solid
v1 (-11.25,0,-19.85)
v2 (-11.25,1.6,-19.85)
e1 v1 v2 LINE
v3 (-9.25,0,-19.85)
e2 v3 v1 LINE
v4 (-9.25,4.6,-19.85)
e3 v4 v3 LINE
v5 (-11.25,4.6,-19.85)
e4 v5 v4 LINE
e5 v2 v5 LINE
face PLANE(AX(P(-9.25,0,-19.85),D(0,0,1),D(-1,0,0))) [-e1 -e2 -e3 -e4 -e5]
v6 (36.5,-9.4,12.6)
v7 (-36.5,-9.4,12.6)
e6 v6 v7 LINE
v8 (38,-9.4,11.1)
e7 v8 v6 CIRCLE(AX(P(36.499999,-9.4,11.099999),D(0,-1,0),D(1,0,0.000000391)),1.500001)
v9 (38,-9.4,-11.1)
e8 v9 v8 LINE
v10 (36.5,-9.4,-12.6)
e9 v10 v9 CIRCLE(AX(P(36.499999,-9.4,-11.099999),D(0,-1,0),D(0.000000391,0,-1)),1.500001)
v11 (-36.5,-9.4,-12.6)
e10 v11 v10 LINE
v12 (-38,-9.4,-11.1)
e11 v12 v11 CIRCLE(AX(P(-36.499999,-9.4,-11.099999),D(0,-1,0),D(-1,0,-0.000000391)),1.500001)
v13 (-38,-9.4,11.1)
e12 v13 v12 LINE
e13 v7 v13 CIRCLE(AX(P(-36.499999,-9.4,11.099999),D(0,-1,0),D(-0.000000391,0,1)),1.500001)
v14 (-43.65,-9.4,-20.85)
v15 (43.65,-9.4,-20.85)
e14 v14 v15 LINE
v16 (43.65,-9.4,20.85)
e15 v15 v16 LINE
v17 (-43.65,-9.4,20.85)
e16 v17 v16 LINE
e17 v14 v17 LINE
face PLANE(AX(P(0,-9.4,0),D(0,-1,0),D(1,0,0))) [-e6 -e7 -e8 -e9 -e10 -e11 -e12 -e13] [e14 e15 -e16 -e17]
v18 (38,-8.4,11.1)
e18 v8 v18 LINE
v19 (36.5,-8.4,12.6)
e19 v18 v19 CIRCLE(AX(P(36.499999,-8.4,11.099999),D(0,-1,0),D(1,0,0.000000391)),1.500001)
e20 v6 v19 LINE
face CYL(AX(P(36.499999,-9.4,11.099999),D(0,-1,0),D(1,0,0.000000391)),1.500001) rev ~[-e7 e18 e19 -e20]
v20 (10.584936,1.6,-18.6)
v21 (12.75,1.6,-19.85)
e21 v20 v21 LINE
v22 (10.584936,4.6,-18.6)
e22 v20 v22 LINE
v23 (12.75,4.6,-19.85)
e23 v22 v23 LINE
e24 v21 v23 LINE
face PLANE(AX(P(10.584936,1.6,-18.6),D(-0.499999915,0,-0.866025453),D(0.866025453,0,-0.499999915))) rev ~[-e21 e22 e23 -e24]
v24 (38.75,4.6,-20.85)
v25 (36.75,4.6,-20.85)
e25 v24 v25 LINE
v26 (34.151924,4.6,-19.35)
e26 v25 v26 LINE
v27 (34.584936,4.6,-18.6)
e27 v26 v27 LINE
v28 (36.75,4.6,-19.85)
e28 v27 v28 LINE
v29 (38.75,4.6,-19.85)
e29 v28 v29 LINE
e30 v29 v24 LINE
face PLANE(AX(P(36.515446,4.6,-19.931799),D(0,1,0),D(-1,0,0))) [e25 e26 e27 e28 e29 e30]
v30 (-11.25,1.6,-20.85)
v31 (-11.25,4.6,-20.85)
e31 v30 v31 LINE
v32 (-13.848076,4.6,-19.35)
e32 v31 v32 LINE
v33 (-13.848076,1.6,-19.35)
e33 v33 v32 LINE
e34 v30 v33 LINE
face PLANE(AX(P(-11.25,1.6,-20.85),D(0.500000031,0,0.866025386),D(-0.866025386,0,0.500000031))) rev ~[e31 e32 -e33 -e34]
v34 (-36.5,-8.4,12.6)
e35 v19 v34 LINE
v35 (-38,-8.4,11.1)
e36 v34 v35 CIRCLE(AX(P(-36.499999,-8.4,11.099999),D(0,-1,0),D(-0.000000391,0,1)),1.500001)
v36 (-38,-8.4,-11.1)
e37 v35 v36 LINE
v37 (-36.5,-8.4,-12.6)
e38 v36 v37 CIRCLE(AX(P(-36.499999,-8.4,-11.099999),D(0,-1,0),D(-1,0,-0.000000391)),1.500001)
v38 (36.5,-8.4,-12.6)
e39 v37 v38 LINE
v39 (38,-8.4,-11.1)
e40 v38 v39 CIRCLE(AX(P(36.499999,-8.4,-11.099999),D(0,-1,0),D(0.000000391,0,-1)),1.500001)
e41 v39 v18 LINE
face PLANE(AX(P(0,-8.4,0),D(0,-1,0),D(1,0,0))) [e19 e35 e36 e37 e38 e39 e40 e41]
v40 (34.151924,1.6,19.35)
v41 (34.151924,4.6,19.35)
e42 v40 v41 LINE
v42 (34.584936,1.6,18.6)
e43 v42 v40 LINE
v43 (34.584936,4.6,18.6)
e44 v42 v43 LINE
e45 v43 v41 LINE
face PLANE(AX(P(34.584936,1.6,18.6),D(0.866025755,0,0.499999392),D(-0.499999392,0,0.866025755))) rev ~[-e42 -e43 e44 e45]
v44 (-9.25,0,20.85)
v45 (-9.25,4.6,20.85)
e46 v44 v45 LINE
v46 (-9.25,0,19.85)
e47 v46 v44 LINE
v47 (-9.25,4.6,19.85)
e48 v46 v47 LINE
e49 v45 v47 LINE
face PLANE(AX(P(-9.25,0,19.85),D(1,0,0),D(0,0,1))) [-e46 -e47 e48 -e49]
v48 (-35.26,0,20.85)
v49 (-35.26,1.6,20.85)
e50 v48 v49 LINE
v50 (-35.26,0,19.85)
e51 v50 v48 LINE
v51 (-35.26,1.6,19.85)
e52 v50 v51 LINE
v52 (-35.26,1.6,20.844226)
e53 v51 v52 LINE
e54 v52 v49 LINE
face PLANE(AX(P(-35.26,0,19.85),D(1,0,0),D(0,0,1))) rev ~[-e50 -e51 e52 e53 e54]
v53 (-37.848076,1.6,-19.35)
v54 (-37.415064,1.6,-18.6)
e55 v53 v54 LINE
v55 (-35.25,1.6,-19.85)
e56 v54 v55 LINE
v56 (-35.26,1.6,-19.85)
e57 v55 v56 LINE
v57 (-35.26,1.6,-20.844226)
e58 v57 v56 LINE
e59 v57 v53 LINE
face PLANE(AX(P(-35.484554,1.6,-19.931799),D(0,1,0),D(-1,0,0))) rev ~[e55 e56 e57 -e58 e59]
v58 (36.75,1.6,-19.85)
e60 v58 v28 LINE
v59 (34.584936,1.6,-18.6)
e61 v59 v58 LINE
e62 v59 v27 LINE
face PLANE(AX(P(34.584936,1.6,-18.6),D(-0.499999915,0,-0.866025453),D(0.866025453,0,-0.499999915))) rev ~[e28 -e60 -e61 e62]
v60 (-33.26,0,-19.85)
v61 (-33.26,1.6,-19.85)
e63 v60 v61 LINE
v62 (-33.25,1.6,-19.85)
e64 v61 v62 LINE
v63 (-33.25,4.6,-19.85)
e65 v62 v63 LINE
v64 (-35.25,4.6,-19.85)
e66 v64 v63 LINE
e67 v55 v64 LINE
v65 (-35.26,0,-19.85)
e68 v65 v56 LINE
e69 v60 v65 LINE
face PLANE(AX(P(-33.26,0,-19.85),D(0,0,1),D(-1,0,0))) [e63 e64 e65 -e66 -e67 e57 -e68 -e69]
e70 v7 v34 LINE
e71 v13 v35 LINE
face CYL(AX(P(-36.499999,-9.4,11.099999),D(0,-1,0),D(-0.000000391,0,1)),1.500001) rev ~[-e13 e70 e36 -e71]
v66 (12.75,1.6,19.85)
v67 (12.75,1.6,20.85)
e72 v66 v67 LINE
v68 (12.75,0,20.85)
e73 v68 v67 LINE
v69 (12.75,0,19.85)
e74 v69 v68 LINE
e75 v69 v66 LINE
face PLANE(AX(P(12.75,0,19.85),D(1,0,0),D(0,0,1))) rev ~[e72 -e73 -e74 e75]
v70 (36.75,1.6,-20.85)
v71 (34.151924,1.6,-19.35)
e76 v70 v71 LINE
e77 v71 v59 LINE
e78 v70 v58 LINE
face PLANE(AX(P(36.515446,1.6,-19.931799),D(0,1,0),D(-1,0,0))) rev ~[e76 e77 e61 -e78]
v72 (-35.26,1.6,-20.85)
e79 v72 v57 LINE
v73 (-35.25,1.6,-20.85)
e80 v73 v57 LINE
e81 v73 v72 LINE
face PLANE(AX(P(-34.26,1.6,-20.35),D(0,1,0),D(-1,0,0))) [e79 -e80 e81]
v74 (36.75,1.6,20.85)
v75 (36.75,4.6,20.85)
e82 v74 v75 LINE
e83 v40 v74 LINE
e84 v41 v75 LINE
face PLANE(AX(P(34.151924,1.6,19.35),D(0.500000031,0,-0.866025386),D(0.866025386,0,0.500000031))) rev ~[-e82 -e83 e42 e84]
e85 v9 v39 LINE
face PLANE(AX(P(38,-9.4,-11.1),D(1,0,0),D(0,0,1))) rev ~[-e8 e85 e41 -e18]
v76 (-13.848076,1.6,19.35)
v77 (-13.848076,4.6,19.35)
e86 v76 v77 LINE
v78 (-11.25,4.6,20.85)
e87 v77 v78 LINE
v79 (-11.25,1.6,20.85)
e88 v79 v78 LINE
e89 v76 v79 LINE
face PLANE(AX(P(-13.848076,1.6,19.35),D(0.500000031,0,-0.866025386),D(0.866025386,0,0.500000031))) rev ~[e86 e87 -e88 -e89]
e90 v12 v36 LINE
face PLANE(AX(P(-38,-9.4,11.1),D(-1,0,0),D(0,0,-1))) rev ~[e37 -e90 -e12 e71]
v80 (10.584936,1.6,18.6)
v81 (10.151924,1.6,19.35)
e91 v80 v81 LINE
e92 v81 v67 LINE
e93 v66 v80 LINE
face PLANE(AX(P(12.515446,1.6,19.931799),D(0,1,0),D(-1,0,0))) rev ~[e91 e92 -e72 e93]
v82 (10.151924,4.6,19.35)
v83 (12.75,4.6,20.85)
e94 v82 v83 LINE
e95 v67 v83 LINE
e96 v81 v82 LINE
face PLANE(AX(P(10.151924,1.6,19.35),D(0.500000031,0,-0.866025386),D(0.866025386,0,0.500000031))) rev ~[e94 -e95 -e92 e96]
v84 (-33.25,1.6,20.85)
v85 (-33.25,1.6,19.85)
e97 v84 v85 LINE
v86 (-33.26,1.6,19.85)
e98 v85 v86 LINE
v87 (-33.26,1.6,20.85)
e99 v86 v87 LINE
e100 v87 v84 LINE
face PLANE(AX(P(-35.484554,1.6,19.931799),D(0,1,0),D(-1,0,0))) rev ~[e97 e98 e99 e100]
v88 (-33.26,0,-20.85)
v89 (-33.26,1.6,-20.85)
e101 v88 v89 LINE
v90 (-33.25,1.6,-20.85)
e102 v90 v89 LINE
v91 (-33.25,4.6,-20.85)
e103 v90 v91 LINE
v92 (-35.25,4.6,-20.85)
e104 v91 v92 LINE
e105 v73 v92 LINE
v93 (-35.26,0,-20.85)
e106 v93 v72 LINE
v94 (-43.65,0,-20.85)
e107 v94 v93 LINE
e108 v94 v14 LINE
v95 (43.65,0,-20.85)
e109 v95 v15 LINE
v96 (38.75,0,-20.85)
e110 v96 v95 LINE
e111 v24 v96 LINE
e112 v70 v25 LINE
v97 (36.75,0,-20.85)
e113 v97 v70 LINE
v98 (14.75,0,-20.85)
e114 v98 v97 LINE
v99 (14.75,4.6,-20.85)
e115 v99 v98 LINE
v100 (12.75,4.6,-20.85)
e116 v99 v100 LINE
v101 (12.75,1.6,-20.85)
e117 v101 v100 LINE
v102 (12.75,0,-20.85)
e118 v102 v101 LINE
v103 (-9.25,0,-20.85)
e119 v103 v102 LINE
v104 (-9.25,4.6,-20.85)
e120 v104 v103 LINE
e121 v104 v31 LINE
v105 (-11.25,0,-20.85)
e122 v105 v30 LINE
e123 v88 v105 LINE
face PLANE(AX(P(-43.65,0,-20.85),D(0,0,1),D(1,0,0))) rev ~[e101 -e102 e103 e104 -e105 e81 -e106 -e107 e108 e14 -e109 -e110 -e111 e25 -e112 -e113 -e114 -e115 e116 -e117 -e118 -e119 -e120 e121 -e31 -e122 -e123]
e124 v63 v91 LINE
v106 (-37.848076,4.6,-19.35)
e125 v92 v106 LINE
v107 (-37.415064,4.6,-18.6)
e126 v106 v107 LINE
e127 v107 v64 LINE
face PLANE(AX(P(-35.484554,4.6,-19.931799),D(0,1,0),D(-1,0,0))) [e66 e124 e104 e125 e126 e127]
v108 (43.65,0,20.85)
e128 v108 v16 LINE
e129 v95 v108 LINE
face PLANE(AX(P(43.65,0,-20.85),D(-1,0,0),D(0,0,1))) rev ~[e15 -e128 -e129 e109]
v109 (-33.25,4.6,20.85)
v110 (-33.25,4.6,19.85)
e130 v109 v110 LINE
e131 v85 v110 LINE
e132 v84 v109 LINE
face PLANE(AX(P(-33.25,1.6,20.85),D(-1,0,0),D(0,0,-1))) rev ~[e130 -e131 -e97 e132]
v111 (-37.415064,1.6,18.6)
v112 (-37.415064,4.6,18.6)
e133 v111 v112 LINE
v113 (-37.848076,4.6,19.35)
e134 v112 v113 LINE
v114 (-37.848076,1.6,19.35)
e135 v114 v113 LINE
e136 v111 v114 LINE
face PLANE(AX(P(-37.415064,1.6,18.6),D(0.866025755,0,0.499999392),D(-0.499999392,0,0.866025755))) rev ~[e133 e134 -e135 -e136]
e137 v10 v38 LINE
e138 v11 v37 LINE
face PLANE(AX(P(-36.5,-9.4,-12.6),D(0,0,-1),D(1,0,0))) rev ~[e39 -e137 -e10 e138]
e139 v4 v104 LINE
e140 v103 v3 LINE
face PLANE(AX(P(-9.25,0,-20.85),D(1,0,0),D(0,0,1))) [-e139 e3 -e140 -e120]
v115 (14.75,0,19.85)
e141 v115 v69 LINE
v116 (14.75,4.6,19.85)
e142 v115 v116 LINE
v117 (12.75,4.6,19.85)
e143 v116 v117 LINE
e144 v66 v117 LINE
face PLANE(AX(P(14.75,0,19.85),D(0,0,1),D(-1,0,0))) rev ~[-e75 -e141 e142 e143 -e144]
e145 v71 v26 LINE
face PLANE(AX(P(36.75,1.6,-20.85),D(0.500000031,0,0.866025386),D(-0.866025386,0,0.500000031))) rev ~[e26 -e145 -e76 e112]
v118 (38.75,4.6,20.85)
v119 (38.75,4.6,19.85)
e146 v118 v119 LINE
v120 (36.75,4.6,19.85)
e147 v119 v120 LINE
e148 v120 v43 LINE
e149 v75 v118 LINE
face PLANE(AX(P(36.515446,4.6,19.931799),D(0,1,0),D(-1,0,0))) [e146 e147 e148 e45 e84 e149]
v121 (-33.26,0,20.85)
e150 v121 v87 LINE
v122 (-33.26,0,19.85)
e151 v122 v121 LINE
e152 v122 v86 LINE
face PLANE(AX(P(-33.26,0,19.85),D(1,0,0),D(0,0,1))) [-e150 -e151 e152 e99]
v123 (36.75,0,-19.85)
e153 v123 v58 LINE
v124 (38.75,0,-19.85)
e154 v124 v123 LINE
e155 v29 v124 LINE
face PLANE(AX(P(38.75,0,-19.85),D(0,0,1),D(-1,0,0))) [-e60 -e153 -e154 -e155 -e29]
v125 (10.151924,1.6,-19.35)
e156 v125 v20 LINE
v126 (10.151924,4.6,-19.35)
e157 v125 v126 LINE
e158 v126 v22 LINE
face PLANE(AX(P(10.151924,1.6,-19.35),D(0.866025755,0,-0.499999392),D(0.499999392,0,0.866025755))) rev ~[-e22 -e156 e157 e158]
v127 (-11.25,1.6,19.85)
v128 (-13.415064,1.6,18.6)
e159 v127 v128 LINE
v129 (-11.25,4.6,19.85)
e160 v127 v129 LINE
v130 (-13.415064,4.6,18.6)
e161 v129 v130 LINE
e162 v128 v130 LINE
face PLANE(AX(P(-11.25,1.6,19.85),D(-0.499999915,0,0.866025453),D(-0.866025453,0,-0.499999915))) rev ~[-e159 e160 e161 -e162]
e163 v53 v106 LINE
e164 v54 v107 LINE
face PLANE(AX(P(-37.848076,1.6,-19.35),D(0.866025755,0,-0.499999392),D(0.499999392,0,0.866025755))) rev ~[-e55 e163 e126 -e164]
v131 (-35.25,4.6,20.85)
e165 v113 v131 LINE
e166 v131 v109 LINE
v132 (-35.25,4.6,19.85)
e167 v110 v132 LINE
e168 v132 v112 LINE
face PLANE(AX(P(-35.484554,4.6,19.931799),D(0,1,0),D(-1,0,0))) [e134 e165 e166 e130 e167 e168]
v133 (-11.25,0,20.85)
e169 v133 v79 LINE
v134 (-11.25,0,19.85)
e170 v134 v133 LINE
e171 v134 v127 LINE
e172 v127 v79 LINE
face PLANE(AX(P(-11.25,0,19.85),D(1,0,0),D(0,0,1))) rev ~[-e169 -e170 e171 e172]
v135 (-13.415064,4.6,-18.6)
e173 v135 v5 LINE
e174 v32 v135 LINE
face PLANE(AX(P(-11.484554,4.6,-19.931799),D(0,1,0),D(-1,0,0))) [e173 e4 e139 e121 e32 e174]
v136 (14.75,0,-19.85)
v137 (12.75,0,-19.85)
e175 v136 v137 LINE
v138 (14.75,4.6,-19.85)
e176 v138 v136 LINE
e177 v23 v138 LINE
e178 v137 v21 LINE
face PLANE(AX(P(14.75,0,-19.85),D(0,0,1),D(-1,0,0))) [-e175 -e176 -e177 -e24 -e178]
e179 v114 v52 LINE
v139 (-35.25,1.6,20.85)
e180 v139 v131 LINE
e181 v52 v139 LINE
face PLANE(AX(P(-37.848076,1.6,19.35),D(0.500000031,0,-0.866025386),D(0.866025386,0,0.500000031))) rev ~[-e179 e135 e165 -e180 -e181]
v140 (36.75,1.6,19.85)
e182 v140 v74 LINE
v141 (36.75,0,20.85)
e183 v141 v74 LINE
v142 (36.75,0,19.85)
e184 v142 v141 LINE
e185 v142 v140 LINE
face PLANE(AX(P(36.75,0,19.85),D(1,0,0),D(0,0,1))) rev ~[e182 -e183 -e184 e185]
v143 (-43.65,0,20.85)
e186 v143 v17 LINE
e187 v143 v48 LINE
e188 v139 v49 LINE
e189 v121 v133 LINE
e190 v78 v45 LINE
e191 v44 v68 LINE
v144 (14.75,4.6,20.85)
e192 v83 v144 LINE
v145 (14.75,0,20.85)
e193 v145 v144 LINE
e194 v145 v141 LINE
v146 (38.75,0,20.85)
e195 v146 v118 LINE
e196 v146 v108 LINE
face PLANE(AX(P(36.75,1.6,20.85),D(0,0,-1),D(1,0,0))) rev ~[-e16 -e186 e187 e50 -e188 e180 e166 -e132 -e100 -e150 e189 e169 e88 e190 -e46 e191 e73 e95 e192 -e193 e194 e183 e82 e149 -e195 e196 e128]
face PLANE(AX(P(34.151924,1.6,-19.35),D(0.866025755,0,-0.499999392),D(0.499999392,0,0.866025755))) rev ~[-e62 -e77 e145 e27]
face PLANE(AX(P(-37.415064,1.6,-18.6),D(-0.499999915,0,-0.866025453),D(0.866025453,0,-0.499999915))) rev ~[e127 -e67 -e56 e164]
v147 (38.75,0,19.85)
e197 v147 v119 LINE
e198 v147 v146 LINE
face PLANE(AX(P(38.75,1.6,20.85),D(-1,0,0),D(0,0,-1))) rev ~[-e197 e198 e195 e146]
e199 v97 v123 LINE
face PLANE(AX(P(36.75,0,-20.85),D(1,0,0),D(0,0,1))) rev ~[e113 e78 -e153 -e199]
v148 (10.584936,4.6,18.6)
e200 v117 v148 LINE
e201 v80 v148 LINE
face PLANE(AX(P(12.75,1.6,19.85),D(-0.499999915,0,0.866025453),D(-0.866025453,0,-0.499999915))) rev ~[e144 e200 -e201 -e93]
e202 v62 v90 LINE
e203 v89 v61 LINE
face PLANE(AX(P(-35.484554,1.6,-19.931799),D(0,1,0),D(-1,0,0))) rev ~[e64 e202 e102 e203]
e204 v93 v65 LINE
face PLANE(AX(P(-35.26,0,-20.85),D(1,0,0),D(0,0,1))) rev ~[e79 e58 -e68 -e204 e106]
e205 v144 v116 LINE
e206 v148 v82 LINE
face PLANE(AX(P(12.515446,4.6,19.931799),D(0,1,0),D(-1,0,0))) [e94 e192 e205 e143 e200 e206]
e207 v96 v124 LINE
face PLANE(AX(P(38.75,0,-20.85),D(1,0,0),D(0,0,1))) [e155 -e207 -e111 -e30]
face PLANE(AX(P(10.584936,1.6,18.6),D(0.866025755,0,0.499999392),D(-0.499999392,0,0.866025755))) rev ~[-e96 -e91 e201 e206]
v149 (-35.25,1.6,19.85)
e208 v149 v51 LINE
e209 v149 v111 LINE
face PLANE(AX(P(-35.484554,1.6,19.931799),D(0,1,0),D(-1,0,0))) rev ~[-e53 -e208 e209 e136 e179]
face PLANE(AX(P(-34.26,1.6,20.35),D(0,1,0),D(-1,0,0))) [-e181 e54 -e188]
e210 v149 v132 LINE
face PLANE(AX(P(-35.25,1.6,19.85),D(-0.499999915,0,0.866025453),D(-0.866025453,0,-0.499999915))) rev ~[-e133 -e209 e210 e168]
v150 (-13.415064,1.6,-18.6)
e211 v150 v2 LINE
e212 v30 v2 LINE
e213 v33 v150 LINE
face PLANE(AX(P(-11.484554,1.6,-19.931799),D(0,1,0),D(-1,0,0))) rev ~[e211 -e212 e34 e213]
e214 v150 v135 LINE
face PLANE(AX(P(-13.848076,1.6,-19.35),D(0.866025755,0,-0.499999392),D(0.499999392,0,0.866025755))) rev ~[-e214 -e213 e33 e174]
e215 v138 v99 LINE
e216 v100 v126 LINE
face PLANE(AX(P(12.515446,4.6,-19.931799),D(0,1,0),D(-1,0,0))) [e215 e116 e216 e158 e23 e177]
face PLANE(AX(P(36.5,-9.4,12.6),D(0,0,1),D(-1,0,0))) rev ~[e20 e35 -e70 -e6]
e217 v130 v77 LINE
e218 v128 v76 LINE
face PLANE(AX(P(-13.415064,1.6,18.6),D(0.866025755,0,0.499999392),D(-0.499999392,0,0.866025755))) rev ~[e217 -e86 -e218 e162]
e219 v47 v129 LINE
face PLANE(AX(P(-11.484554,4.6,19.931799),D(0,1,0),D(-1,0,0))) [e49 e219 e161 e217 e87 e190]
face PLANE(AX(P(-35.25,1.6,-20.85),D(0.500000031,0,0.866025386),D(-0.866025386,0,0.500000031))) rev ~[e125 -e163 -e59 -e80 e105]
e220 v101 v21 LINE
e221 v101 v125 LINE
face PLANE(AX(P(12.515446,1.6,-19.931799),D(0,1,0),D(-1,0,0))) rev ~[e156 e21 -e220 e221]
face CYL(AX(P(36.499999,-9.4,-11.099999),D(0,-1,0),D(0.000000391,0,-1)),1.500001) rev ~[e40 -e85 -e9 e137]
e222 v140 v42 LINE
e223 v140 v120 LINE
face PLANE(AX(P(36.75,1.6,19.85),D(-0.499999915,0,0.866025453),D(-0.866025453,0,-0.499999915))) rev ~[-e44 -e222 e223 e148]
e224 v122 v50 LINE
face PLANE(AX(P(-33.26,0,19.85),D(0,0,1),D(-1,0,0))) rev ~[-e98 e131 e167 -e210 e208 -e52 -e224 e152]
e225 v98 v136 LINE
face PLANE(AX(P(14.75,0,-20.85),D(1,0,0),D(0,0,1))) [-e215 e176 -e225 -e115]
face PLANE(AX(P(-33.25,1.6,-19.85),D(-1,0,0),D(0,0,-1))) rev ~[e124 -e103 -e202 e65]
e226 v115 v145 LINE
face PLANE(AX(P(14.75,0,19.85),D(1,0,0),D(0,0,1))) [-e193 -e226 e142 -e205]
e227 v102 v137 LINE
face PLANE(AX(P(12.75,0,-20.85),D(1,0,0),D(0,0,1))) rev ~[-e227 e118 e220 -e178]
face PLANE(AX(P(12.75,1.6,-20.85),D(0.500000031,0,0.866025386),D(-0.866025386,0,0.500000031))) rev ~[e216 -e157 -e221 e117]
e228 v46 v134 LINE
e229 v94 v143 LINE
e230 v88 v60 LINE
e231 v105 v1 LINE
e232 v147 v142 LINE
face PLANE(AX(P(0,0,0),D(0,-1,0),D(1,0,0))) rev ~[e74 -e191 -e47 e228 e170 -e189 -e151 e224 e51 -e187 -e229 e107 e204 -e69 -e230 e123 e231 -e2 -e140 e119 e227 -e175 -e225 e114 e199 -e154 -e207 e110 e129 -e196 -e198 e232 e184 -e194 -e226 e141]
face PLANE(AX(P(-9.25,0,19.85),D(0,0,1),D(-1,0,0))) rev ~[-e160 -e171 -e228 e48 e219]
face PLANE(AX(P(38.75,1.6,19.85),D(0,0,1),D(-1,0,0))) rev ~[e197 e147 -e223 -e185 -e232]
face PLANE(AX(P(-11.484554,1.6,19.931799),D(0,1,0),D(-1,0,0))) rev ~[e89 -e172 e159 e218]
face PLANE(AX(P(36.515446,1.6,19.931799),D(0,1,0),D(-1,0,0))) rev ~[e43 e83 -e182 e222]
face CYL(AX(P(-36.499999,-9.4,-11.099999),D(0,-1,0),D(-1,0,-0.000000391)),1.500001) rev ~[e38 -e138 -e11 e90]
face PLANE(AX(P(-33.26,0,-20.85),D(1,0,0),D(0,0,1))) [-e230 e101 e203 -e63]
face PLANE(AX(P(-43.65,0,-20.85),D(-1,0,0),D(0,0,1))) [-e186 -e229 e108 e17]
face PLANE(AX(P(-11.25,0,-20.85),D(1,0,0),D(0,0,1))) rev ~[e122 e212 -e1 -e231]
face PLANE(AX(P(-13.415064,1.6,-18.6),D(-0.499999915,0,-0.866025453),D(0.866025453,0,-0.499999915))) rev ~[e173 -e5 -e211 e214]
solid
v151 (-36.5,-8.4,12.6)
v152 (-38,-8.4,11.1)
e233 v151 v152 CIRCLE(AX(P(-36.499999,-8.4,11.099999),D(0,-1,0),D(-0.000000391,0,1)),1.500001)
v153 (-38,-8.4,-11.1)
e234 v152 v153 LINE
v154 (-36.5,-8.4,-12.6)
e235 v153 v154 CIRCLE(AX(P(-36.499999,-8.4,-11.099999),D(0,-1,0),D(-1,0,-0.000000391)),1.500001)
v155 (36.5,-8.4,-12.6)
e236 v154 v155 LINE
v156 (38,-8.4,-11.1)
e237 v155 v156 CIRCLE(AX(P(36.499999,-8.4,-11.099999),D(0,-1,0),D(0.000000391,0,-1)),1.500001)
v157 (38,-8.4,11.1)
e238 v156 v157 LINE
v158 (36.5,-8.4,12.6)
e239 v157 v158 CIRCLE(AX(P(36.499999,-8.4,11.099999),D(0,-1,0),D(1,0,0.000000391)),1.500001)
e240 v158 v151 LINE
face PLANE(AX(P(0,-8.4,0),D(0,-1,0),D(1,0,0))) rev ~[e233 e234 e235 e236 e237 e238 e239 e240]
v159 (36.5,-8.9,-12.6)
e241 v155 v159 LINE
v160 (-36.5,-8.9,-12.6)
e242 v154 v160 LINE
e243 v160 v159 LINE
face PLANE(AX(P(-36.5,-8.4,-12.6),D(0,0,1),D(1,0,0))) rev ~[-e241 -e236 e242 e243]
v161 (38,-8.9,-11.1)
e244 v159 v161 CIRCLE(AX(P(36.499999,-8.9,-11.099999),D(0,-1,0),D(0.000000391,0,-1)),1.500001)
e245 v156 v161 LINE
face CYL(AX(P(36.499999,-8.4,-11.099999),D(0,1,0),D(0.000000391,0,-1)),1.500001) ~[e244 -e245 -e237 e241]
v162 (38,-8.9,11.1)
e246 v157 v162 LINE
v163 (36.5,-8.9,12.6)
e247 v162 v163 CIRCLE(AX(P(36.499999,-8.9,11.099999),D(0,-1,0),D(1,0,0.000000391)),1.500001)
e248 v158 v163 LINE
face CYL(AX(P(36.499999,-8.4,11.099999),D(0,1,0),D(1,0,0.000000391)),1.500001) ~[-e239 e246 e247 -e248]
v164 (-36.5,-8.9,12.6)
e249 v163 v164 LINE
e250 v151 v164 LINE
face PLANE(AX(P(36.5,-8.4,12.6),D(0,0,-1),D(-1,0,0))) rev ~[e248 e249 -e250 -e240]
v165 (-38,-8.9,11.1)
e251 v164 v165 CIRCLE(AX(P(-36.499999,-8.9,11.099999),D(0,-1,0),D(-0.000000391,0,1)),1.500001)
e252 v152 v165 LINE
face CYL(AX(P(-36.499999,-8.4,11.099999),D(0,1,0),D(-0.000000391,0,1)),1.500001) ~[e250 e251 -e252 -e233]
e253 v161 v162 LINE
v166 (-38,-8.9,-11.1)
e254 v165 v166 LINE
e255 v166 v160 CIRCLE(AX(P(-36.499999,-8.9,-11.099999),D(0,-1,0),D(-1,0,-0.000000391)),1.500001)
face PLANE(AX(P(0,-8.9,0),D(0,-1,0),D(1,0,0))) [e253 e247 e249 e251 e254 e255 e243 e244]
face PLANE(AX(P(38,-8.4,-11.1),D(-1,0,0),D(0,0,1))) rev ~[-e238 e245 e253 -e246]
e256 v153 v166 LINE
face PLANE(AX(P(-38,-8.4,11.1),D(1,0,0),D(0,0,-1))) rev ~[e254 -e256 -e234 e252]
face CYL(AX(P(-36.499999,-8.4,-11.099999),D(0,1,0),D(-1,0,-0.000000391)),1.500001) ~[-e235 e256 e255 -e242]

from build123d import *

# Parameters (mm, degrees)
F0_W     = 87.3
F0_H     = 41.7
F1_DEPTH = 9.4
F3_DEPTH = 1
F5_DEPTH = 0.5
F6_W     = 2
F6_H     = 1
F7_DEPTH = 1.6
F9_DEPTH = 3


with BuildPart() as f1:
    # F0 (on Front) → F1 (new body)
    with BuildSketch(Plane.XZ):
        Rectangle(F0_W, F0_H)
    extrude(amount=F1_DEPTH)

    # F2 (on face) → F3 (cut)
    with BuildSketch(Plane.XZ.offset(9.4)):
        with BuildLine():
            ThreePointArc((38, 11.1), (37.56066, 12.16066), (36.5, 12.6))
            Line((36.5, 12.6), (-36.5, 12.6))
            ThreePointArc((-36.5, 12.6), (-37.56066, 12.16066), (-38, 11.1))
            Line((-38, 11.1), (-38, -11.1))
            ThreePointArc((-38, -11.1), (-37.56066, -12.16066), (-36.5, -12.6))
            Line((-36.5, -12.6), (36.5, -12.6))
            ThreePointArc((36.5, -12.6), (37.56066, -12.16066), (38, -11.1))
            Line((38, -11.1), (38, 11.1))
        make_face()
    extrude(amount=-F3_DEPTH, mode=Mode.SUBTRACT)

    # F6 (on face) → F7 (join)
    with BuildSketch(Plane(origin=(0, 0, 0), x_dir=(-1, 0, 0), z_dir=(0, 1, 0))):
        with Locations((10.25, 20.35)):
            Rectangle(F6_W, F6_H)
        with Locations((34.26, 20.35)):
            Rectangle(F6_W, F6_H)
        with Locations((-37.75, 20.35)):
            Rectangle(F6_W, F6_H)
        with Locations((-13.75, 20.35)):
            Rectangle(F6_W, F6_H)
        with Locations((-13.75, -20.35)):
            Rectangle(F6_W, F6_H)
        with Locations((-37.75, -20.35)):
            Rectangle(F6_W, F6_H)
        with Locations((34.26, -20.35)):
            Rectangle(F6_W, F6_H)
        with Locations((10.25, -20.35)):
            Rectangle(F6_W, F6_H)
    extrude(amount=F7_DEPTH)

    # F8 (on face) → F9 (join)
    with BuildSketch(Plane(origin=(0, 1.6, 0), x_dir=(-1, 0, 0), z_dir=(0, 1, 0))):
        Polygon((-36.75, 20.85), (-38.75, 20.85), (-38.75, 19.85), (-36.75, 19.85), (-34.584936, 18.6), (-34.151924, 19.35), align=None)
        Polygon((-14.75, 19.85), (-12.75, 19.85), (-10.584936, 18.6), (-10.151924, 19.35), (-12.75, 20.85), (-14.75, 20.85), align=None)
        Polygon((9.25, 19.85), (11.25, 19.85), (13.415064, 18.6), (13.848076, 19.35), (11.25, 20.85), (9.25, 20.85), align=None)
        Polygon((33.25, 19.85), (35.25, 19.85), (37.415064, 18.6), (37.848076, 19.35), (35.25, 20.85), (33.25, 20.85), align=None)
        Polygon((-38.75, -19.85), (-38.75, -20.85), (-36.75, -20.85), (-34.151924, -19.35), (-34.584936, -18.6), (-36.75, -19.85), align=None)
        Polygon((-14.75, -19.85), (-14.75, -20.85), (-12.75, -20.85), (-10.151924, -19.35), (-10.584936, -18.6), (-12.75, -19.85), align=None)
        Polygon((11.25, -19.85), (9.25, -19.85), (9.25, -20.85), (11.25, -20.85), (13.848076, -19.35), (13.415064, -18.6), align=None)
        Polygon((37.415064, -18.6), (35.25, -19.85), (33.25, -19.85), (33.25, -20.85), (35.25, -20.85), (37.848076, -19.35), align=None)
    extrude(amount=F9_DEPTH)


with BuildPart() as f5:
    # F4 (on face) → F5 (new body)
    with BuildSketch(Plane.XZ.offset(8.4)):
        with BuildLine():
            ThreePointArc((-36.5, 12.6), (-37.56066, 12.16066), (-38, 11.1))
            Line((-38, 11.1), (-38, -11.1))
            ThreePointArc((-38, -11.1), (-37.56066, -12.16066), (-36.5, -12.6))
            Line((-36.5, -12.6), (36.5, -12.6))
            ThreePointArc((36.5, -12.6), (37.56066, -12.16066), (38, -11.1))
            Line((38, -11.1), (38, 11.1))
            ThreePointArc((38, 11.1), (37.56066, 12.16066), (36.5, 12.6))
            Line((36.5, 12.6), (-36.5, 12.6))
        make_face()
    extrude(amount=F5_DEPTH)


solid = Compound([f1.part, f5.part])
